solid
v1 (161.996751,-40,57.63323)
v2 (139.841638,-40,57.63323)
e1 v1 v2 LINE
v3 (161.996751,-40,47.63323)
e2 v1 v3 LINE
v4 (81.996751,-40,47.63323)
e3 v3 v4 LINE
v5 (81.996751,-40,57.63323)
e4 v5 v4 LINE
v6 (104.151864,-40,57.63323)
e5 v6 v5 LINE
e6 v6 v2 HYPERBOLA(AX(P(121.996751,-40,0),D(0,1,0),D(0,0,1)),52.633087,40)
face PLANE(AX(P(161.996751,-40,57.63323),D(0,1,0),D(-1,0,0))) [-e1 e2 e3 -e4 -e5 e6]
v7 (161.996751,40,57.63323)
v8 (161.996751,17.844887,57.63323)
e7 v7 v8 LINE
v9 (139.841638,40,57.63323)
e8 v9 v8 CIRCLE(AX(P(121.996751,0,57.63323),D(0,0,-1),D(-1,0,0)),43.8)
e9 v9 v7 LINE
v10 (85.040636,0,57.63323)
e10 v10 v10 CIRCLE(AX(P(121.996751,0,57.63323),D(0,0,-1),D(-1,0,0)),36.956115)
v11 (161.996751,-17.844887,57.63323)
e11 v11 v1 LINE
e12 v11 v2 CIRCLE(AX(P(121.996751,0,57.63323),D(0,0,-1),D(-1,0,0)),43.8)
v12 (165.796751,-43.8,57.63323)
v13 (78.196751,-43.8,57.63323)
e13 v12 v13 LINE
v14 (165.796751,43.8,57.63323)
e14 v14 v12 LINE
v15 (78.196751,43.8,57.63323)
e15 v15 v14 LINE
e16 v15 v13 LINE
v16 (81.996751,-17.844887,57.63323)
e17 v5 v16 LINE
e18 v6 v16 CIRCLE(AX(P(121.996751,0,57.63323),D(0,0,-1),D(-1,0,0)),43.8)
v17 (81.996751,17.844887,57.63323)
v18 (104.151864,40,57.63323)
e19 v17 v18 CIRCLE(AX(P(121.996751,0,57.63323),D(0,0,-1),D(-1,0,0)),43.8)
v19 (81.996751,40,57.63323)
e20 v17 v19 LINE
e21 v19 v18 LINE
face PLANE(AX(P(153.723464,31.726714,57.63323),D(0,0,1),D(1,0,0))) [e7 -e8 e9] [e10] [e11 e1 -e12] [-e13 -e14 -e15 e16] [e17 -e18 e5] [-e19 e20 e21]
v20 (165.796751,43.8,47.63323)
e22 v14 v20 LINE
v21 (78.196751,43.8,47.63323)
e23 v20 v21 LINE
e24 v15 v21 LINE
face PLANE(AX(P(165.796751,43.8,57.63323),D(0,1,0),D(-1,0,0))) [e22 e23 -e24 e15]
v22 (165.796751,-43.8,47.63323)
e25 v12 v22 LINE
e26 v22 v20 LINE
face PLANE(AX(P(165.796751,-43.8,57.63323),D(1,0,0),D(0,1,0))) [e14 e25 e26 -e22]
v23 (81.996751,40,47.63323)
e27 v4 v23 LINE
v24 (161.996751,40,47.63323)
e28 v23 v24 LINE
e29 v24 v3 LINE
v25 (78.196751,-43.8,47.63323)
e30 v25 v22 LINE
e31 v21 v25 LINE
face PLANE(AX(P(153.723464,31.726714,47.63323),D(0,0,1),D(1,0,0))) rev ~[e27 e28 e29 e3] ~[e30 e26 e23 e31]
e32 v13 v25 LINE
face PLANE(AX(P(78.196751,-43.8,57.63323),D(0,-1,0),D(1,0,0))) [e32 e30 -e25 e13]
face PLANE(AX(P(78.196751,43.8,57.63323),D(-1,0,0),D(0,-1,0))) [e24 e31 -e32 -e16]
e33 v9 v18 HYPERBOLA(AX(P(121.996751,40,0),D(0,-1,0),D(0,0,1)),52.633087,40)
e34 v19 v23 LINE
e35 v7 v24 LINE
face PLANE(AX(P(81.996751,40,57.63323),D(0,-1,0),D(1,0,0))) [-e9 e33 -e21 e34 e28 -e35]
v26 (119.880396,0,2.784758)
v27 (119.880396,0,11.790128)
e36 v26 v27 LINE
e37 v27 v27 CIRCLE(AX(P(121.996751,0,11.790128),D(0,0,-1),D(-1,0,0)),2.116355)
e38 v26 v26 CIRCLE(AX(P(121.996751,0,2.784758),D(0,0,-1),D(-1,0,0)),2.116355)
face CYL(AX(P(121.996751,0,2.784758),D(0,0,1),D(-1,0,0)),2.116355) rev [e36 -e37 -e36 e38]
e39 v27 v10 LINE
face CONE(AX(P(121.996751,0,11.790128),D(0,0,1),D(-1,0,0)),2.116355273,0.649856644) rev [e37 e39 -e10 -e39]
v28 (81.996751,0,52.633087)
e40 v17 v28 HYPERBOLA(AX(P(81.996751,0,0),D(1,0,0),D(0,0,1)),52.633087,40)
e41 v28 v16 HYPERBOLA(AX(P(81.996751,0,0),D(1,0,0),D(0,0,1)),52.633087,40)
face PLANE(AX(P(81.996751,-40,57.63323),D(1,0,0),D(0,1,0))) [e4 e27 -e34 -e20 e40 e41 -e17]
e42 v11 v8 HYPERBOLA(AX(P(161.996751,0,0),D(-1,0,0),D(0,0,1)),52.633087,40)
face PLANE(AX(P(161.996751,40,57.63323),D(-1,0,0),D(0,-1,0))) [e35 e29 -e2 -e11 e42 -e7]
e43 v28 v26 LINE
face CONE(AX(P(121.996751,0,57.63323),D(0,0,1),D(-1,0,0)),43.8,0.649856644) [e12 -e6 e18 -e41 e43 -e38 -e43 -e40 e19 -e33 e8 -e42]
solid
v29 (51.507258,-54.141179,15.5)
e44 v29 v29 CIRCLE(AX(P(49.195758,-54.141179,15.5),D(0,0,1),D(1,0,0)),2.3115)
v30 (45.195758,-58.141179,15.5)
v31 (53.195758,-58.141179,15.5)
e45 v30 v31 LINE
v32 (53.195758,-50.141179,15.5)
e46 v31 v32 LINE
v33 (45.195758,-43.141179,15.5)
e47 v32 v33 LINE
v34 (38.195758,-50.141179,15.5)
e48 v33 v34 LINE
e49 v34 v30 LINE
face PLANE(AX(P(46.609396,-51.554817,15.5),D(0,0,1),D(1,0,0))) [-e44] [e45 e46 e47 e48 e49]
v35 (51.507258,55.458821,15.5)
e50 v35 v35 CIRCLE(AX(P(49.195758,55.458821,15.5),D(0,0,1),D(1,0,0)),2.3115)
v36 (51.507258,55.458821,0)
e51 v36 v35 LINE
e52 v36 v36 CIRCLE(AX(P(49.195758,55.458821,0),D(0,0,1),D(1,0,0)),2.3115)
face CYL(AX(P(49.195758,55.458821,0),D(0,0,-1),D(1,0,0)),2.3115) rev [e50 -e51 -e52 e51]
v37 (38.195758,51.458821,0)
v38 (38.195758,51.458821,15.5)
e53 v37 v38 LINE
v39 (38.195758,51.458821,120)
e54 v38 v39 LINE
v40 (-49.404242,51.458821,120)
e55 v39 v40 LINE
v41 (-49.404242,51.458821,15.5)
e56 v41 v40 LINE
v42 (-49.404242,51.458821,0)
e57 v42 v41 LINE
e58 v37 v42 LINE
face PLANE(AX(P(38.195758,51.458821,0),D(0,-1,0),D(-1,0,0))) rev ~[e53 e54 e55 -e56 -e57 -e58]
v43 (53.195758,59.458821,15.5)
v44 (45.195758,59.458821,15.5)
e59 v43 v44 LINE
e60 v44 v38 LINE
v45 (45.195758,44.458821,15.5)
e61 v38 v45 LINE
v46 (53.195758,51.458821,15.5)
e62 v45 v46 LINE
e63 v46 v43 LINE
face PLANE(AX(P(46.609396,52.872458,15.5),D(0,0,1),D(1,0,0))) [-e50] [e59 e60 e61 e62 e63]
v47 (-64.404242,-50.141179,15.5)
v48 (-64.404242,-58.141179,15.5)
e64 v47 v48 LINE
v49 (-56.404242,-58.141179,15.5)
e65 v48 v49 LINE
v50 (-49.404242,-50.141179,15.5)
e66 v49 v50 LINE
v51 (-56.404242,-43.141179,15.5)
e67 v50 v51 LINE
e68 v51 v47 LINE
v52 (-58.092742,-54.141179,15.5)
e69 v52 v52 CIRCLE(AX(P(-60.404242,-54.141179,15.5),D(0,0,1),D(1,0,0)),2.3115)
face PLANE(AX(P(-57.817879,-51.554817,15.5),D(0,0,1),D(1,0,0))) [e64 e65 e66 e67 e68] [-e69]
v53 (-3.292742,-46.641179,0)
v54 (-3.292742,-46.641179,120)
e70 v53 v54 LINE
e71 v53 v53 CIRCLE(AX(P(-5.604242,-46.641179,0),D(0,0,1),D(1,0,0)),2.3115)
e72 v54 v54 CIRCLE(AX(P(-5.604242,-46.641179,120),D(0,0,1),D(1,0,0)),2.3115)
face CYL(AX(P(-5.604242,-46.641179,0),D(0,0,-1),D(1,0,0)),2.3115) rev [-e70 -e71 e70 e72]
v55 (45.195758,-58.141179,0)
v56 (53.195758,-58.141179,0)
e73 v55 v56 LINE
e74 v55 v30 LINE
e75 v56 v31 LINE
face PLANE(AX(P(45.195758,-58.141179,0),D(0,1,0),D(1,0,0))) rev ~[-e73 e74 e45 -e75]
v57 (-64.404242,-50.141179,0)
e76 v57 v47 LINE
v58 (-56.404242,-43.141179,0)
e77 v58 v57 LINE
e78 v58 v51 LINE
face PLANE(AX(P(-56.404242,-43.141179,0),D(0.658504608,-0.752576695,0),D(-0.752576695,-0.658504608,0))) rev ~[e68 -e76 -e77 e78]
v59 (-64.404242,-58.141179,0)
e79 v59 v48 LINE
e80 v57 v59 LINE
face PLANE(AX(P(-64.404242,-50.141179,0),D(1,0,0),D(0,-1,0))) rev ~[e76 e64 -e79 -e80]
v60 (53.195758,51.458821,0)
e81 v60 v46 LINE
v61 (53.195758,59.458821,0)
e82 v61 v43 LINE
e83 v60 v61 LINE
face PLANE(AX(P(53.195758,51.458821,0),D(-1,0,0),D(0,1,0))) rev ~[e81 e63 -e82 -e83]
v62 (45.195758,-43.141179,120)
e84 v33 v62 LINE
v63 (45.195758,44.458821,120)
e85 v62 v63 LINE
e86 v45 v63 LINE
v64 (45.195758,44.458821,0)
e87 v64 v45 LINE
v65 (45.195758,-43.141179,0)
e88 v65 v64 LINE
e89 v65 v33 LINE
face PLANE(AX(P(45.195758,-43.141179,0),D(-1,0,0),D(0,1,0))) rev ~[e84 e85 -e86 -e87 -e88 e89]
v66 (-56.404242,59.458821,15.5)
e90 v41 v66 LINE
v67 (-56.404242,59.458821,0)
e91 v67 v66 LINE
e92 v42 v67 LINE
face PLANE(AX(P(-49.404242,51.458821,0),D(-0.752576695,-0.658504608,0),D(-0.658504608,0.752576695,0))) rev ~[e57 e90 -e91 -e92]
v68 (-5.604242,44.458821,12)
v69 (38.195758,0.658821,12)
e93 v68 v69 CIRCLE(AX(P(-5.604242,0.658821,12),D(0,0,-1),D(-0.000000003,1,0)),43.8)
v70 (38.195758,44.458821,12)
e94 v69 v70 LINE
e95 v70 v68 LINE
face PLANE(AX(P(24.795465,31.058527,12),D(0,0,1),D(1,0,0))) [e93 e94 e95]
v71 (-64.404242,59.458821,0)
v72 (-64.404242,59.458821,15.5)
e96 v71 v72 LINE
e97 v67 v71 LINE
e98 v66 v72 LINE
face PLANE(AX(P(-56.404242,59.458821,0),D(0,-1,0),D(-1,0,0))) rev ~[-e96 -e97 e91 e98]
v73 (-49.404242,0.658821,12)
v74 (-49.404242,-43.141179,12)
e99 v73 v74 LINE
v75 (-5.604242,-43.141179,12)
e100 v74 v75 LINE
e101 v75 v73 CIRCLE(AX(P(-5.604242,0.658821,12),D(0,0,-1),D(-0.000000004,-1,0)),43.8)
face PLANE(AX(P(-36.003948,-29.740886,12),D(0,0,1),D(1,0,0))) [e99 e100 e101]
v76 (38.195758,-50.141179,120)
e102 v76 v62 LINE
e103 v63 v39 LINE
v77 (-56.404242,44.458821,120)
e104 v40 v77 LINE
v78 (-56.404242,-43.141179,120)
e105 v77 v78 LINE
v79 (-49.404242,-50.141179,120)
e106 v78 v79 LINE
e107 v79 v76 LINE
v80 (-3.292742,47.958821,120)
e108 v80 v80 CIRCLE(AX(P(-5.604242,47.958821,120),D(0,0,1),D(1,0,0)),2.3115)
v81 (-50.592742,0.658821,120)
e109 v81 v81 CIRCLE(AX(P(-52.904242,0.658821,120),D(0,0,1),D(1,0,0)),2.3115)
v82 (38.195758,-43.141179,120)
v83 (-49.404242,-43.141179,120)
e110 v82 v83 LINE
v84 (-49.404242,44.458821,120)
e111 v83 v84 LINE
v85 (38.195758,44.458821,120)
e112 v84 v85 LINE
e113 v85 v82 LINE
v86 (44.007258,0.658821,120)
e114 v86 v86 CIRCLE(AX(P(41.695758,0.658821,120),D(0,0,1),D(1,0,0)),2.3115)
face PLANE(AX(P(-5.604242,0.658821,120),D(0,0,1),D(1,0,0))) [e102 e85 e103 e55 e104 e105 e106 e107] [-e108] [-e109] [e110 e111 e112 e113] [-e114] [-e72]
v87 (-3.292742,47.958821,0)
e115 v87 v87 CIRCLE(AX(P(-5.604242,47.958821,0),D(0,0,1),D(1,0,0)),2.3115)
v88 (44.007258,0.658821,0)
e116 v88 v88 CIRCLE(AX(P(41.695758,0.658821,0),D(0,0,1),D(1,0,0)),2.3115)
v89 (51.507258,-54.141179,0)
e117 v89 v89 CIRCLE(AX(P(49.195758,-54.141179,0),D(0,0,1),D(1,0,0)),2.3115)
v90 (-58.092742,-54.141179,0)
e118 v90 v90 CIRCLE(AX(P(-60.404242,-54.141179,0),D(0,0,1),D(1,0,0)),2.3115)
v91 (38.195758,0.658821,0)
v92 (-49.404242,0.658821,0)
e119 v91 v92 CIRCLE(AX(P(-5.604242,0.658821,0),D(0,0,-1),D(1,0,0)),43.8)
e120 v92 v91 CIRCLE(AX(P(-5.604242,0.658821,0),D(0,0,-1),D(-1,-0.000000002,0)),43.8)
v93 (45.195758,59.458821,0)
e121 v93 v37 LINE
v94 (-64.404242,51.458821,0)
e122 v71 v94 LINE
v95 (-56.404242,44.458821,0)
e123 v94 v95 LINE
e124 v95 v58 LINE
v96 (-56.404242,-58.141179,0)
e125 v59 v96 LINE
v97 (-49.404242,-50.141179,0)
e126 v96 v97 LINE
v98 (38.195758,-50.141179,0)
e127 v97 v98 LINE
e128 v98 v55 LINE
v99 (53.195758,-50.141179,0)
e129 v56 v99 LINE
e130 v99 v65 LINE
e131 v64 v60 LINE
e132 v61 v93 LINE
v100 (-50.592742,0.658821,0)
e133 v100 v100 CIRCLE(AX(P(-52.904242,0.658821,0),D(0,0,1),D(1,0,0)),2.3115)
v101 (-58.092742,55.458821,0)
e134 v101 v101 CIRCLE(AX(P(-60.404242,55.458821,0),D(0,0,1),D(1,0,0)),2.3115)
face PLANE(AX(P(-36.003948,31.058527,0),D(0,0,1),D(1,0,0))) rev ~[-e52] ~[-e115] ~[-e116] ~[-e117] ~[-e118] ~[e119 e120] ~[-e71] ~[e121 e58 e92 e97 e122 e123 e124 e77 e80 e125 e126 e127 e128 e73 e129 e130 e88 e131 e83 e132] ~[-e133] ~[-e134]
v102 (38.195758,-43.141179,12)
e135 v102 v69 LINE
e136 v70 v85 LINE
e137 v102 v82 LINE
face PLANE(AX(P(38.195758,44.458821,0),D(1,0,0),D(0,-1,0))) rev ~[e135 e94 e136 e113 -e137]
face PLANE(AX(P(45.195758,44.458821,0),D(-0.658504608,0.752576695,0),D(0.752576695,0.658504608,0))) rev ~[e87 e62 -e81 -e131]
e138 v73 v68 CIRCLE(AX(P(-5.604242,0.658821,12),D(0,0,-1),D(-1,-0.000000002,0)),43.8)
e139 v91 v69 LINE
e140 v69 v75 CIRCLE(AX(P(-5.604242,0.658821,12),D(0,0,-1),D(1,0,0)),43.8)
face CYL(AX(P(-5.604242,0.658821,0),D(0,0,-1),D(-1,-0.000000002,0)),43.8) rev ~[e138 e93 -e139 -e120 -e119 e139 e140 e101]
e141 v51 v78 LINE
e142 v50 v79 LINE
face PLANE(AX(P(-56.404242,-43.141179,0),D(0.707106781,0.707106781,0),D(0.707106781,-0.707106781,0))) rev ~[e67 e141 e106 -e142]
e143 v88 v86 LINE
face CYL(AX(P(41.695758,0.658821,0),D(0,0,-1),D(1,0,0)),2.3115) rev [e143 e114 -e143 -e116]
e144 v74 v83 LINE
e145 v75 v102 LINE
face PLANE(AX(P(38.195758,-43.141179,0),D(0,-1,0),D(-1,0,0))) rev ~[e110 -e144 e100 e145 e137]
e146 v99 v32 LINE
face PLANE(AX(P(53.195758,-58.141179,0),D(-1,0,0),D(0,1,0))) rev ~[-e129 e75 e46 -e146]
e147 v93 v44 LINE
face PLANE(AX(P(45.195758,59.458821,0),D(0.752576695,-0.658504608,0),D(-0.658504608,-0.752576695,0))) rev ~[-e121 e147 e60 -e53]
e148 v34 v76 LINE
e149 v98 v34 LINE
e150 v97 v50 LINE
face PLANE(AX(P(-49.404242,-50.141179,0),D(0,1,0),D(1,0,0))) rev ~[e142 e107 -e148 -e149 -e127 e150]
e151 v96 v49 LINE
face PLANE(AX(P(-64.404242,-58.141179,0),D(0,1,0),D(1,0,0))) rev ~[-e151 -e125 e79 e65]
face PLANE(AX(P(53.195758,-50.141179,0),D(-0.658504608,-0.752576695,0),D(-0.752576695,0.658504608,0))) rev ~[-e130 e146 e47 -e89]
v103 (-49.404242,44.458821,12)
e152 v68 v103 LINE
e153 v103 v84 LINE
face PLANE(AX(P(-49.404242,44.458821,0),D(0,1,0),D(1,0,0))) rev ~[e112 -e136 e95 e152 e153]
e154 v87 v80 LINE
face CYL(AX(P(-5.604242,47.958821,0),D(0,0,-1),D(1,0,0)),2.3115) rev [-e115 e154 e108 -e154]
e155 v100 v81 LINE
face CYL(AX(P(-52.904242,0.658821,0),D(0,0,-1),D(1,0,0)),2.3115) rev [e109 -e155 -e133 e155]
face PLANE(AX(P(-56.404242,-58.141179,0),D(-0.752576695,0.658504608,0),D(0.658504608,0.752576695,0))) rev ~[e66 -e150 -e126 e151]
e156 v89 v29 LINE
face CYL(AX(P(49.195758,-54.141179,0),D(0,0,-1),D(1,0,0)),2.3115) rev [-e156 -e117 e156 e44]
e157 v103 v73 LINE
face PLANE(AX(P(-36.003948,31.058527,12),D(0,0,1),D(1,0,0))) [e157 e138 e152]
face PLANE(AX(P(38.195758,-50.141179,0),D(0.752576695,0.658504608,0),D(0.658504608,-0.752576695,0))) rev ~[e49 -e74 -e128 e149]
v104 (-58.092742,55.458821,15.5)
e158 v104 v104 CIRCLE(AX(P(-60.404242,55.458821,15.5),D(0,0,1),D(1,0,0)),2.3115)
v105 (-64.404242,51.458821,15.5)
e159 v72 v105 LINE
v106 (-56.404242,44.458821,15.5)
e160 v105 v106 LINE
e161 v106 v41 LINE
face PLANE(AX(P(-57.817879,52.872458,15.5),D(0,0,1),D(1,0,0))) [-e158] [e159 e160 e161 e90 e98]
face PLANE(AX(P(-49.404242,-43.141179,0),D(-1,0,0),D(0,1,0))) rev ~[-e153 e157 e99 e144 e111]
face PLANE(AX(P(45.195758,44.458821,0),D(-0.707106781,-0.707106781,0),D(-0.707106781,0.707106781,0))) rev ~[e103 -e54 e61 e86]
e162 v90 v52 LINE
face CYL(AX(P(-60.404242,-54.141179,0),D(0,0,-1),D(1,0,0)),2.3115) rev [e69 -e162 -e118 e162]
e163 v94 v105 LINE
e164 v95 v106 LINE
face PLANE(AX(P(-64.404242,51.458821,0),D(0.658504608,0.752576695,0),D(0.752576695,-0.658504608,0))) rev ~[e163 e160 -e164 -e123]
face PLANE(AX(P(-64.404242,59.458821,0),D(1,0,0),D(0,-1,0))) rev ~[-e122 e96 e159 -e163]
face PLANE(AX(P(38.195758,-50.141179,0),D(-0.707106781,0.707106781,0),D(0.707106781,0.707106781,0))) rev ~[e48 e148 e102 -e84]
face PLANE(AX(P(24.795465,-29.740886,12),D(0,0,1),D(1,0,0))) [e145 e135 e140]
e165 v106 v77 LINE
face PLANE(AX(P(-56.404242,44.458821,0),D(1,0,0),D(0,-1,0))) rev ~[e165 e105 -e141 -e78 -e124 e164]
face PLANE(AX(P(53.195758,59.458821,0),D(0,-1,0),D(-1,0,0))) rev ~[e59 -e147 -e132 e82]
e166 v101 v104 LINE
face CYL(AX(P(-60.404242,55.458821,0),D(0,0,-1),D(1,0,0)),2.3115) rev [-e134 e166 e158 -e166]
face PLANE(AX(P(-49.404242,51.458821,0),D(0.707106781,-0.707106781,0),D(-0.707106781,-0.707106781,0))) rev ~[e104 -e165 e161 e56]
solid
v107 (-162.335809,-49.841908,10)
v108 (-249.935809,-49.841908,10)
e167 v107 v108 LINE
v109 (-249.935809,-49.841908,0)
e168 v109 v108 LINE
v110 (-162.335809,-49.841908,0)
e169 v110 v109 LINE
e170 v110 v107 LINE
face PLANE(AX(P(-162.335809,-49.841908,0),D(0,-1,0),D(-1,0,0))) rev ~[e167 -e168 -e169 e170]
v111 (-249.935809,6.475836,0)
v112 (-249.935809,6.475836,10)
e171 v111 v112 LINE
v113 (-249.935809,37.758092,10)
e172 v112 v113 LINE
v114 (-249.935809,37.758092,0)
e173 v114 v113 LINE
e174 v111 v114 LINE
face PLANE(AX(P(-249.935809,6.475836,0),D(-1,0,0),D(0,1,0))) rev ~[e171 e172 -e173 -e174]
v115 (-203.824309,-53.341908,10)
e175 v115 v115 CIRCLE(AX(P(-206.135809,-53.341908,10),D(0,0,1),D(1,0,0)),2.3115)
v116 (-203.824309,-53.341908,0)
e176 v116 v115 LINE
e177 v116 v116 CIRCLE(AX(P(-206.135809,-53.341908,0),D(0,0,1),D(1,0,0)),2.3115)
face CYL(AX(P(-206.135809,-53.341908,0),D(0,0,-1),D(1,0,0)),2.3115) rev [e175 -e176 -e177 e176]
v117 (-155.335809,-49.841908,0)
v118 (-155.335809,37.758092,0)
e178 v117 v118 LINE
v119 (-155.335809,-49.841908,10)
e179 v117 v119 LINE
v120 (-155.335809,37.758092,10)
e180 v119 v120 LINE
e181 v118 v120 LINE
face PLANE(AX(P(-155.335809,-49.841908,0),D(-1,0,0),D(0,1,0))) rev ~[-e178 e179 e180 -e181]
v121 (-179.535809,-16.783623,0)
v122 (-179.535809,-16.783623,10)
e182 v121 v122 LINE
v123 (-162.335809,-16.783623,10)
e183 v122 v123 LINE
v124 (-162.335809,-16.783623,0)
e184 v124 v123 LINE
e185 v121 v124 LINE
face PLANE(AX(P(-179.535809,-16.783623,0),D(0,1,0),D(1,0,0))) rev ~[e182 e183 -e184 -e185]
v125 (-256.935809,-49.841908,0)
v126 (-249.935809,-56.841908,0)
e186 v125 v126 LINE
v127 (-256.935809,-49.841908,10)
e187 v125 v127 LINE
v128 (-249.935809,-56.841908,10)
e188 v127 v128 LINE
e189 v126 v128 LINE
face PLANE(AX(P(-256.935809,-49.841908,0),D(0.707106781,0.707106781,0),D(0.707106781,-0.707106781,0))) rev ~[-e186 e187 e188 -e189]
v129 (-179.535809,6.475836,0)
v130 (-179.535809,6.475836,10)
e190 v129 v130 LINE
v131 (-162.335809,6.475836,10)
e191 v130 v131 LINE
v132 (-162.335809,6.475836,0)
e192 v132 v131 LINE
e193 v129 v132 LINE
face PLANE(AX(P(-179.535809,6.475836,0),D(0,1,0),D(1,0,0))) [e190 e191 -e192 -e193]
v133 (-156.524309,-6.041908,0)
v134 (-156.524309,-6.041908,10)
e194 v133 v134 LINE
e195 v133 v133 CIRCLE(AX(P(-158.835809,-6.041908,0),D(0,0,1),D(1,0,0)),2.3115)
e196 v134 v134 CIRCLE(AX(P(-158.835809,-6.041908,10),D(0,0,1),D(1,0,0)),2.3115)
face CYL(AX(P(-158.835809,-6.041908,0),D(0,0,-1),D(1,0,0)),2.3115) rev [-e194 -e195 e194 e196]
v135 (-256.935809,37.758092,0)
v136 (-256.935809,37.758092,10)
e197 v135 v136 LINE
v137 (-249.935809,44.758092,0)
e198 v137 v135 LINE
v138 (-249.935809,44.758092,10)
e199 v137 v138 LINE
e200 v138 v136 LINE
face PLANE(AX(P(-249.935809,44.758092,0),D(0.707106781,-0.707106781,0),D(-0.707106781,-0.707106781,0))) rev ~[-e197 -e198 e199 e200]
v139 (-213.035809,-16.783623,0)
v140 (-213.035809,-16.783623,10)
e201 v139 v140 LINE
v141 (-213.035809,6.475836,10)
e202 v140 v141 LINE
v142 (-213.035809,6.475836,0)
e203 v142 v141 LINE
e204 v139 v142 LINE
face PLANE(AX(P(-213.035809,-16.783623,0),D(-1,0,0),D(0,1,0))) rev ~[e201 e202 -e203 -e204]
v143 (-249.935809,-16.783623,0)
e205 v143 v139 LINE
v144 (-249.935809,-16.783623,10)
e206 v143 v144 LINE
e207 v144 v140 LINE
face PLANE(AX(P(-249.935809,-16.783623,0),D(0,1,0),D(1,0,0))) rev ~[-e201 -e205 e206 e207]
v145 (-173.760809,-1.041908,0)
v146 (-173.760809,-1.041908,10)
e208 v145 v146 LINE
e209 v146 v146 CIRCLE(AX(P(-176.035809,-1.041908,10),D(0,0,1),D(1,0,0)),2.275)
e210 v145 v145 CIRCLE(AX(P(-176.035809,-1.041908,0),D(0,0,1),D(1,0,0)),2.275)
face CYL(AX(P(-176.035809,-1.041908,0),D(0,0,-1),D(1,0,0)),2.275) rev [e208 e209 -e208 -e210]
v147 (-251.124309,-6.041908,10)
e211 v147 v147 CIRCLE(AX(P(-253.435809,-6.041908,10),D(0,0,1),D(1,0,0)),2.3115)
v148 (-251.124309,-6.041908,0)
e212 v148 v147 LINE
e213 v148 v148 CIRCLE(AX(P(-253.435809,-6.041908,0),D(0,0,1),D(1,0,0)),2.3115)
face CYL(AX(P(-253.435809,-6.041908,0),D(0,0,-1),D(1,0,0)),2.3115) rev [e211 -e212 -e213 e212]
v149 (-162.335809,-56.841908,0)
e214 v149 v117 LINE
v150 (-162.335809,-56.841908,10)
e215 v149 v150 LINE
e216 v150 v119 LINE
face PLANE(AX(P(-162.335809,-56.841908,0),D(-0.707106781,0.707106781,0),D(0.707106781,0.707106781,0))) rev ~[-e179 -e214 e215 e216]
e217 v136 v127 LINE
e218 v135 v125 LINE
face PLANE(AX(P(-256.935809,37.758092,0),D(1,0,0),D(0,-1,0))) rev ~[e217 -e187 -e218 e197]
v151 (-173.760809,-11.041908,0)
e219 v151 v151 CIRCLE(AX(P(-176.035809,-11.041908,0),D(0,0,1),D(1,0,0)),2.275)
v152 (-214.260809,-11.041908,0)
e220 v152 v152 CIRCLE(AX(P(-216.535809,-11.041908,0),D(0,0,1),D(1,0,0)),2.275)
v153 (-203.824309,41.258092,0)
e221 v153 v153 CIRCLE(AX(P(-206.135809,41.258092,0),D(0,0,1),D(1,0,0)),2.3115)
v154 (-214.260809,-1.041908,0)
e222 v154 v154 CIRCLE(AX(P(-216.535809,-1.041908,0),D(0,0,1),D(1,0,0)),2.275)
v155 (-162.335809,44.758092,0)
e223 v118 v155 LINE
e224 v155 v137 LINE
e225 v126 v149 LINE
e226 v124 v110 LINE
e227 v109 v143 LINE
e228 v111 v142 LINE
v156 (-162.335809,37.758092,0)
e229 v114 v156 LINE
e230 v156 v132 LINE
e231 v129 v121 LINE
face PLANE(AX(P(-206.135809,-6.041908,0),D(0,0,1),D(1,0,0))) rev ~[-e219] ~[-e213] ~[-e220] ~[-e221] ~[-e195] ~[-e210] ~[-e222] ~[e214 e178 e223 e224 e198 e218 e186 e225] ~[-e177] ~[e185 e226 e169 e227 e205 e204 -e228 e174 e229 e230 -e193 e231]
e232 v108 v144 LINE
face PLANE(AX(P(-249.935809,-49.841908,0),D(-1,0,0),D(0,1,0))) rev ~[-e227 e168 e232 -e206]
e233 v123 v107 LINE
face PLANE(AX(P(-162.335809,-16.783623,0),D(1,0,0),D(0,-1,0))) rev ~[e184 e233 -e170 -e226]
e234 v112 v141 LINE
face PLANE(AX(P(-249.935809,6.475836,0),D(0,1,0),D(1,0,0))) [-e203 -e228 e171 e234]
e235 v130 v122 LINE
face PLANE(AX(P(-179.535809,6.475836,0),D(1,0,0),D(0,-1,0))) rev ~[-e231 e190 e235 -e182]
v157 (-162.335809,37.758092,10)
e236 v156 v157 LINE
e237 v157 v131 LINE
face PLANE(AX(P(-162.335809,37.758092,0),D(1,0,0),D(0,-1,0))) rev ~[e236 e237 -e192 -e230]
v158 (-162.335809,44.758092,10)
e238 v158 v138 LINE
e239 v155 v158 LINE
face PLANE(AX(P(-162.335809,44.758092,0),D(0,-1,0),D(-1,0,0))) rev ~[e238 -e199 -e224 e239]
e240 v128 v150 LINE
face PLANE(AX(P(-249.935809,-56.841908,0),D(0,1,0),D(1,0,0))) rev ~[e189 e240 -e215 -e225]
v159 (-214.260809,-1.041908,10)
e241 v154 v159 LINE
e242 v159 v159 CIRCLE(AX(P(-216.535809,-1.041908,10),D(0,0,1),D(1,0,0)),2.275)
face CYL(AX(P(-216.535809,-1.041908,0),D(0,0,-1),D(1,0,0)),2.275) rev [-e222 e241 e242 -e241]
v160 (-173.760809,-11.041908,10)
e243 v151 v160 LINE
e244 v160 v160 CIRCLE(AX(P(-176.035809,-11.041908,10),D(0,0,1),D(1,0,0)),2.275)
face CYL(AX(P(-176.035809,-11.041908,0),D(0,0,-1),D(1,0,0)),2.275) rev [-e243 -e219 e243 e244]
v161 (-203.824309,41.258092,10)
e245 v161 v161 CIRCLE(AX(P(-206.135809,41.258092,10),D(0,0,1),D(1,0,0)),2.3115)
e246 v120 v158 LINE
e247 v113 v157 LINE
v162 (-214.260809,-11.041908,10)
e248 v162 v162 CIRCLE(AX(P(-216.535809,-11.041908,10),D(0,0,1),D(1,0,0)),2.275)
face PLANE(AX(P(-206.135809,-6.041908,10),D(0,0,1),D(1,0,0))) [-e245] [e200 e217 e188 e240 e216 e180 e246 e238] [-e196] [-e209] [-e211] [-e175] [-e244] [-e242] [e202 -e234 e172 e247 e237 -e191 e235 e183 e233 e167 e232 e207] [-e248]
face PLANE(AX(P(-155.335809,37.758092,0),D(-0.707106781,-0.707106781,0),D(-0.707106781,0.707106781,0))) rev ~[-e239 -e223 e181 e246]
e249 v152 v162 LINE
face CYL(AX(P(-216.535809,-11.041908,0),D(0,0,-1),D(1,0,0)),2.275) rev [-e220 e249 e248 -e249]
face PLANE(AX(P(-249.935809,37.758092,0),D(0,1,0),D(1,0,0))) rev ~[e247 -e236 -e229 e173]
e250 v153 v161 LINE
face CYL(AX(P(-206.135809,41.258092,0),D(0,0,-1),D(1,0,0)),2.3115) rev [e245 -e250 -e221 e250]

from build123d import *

# Parameters (mm, degrees)
F0_R     = 2.3115
F1_DEPTH = 120
F2_DEPTH = 15.5
F3_DEPTH = 12
F7_DEPTH = 10
F0_W     = 36.9
F0_H     = 12.517743744
F0_R_2   = 2.275
F0_H_2   = 10.7417148538
F0_W_2   = 17.2
F8_DEPTH = 10


with BuildPart() as f1:
    # F0 (on Top) → F1 (new body)
    with BuildSketch(Plane.XY):
        Polygon((38.1957582593, 51.4588206172), (-49.4042417407, 51.4588206172), (-56.4042417407, 44.4588206172), (-56.4042417407, -43.1411793828), (-49.4042417407, -50.1411793828), (38.1957582593, -50.1411793828), (45.1957582593, -43.1411793828), (45.1957582593, 44.4588206172), align=None)
        with Locations((-5.6042417407, -46.6411793828)):
            Circle(F0_R, mode=Mode.SUBTRACT)
        with Locations((-52.9042417407, 0.6588206172)):
            Circle(F0_R, mode=Mode.SUBTRACT)
        Polygon((-49.4042417407, 0.6588205268), (-49.4042417407, 44.4588206172), (-5.6042418869, 44.4588206172), (38.1957582593, 44.4588206172), (38.1957582593, 0.6588206172), (38.1957582593, -43.1411793828), (-5.6042419214, -43.1411793828), (-49.4042417407, -43.1411793828), align=None, mode=Mode.SUBTRACT)
        with Locations((41.6957582593, 0.6588206172)):
            Circle(F0_R, mode=Mode.SUBTRACT)
        with Locations((-5.6042417407, 47.9588206172)):
            Circle(F0_R, mode=Mode.SUBTRACT)
    extrude(amount=F1_DEPTH)

    # F0 (on Top) → F2 (join)
    with BuildSketch(Plane.XY):
        Polygon((-49.4042417407, -50.1411793828), (-56.4042417407, -43.1411793828), (-64.4042417407, -50.1411793828), (-64.4042417407, -58.1411793828), (-56.4042417407, -58.1411793828), align=None)
        with Locations((-60.4042417407, -54.1411793828)):
            Circle(F0_R, mode=Mode.SUBTRACT)
        Polygon((53.1957582593, -50.1411793828), (45.1957582593, -43.1411793828), (38.1957582593, -50.1411793828), (45.1957582593, -58.1411793828), (53.1957582593, -58.1411793828), align=None)
        with Locations((49.1957582593, -54.1411793828)):
            Circle(F0_R, mode=Mode.SUBTRACT)
        Polygon((45.1957582593, 59.4588206172), (38.1957582593, 51.4588206172), (45.1957582593, 44.4588206172), (53.1957582593, 51.4588206172), (53.1957582593, 59.4588206172), align=None)
        with Locations((49.1957582593, 55.4588206172)):
            Circle(F0_R, mode=Mode.SUBTRACT)
        Polygon((-56.4042417407, 44.4588206172), (-49.4042417407, 51.4588206172), (-56.4042417407, 59.4588206172), (-64.4042417407, 59.4588206172), (-64.4042417407, 51.4588206172), align=None)
        with Locations((-60.4042417407, 55.4588206172)):
            Circle(F0_R, mode=Mode.SUBTRACT)
    extrude(amount=F2_DEPTH)

    # F0 (on Top) → F3 (join)
    with BuildSketch(Plane.XY):
        with BuildLine():
            Line((-5.6042418869, 44.4588206172), (-49.4042417407, 44.4588206172))
            Line((-49.4042417407, 44.4588206172), (-49.4042417407, 0.6588205268))
            ThreePointArc((-49.4042417407, 0.6588205268), (-36.5755188403, 31.6300975495), (-5.6042418869, 44.4588206172))
        make_face()
        with BuildLine():
            Line((38.1957582593, 44.4588206172), (-5.6042418869, 44.4588206172))
            ThreePointArc((-5.6042418869, 44.4588206172), (25.3670352236, 31.6300976849), (38.1957582593, 0.6588206172))
            Line((38.1957582593, 0.6588206172), (38.1957582593, 44.4588206172))
        make_face()
        with BuildLine():
            Line((38.1957582593, -43.1411793828), (38.1957582593, 0.6588206172))
            ThreePointArc((38.1957582593, 0.6588206172), (25.3670352114, -30.3124564627), (-5.6042419214, -43.1411793828))
            Line((-5.6042419214, -43.1411793828), (38.1957582593, -43.1411793828))
        make_face()
        with BuildLine():
            ThreePointArc((-5.6042419214, -43.1411793828), (-36.5755187886, -30.3124563668), (-49.4042417407, 0.6588205268))
            Line((-49.4042417407, 0.6588205268), (-49.4042417407, -43.1411793828))
            Line((-49.4042417407, -43.1411793828), (-5.6042419214, -43.1411793828))
        make_face()
    extrude(amount=F3_DEPTH)


with BuildPart() as f5:
    # F4 (on Front) → F5 (revolve)
    with BuildSketch(Plane.XZ):
        Polygon((85.0406363606, 57.6332304992), (78.1967509026, 57.6332304992), (119.88039563, 2.784757791), (119.88039563, 11.7901282959), align=None)
    revolve(axis=Axis((121.9967509026, 0, 28.8166152496), (0, 0, -1)))

    # F6 (on face) → F7 (join)
    with BuildSketch(Plane.XY.offset(57.6332304992)):
        with BuildLine():
            Line((165.7967509026, 0), (165.7967509026, 43.8))
            Line((165.7967509026, 43.8), (121.9967508123, 43.8))
            ThreePointArc((121.9967508123, 43.8), (131.1192505159, 42.8394677932), (139.8416381256, 40))
            Line((139.8416381256, 40), (161.9967509026, 40))
            Line((161.9967509026, 40), (161.9967509026, 17.844887223))
            ThreePointArc((161.9967509026, 17.844887223), (164.8362186864, 9.1224996574), (165.7967509026, 0))
        make_face()
        with BuildLine():
            ThreePointArc((104.1518636797, 40), (112.874251201, 42.8394677744), (121.9967508123, 43.8))
            Line((121.9967508123, 43.8), (78.1967509026, 43.8))
            Line((78.1967509026, 43.8), (78.1967509026, 0))
            ThreePointArc((78.1967509026, 0), (79.1572831188, 9.1224996574), (81.9967509026, 17.844887223))
            Line((81.9967509026, 17.844887223), (81.9967509026, 40))
            Line((81.9967509026, 40), (104.1518636797, 40))
        make_face()
        with BuildLine():
            ThreePointArc((81.9967509026, 17.844887223), (79.1572831188, 9.1224996574), (78.1967509026, 0))
            ThreePointArc((78.1967509026, 0), (79.1572831188, -9.1224996574), (81.9967509026, -17.844887223))
            Line((81.9967509026, -17.844887223), (81.9967509026, 17.844887223))
        make_face()
        with BuildLine():
            ThreePointArc((81.9967509026, -17.844887223), (79.1572831188, -9.1224996574), (78.1967509026, 0))
            Line((78.1967509026, 0), (78.1967509026, -43.8))
            Line((78.1967509026, -43.8), (121.996750993, -43.8))
            ThreePointArc((121.996750993, -43.8), (112.8742512894, -42.8394677932), (104.1518636797, -40))
            Line((104.1518636797, -40), (81.9967509026, -40))
            Line((81.9967509026, -40), (81.9967509026, -17.844887223))
        make_face()
        with BuildLine():
            Line((165.7967509026, -43.8), (165.7967509026, 0))
            ThreePointArc((165.7967509026, 0), (164.8362186864, -9.1224996574), (161.9967509026, -17.844887223))
            Line((161.9967509026, -17.844887223), (161.9967509026, -40))
            Line((161.9967509026, -40), (139.8416381256, -40))
            ThreePointArc((139.8416381256, -40), (131.1192506042, -42.8394677744), (121.996750993, -43.8))
            Line((121.996750993, -43.8), (165.7967509026, -43.8))
        make_face()
        with BuildLine():
            ThreePointArc((104.1518636797, -40), (112.8742512894, -42.8394677932), (121.996750993, -43.8))
            ThreePointArc((121.996750993, -43.8), (131.1192506042, -42.8394677744), (139.8416381256, -40))
            Line((139.8416381256, -40), (104.1518636797, -40))
        make_face()
        with BuildLine():
            ThreePointArc((139.8416381256, 40), (131.1192505159, 42.8394677932), (121.9967508123, 43.8))
            ThreePointArc((121.9967508123, 43.8), (112.874251201, 42.8394677744), (104.1518636797, 40))
            Line((104.1518636797, 40), (139.8416381256, 40))
        make_face()
        with BuildLine():
            ThreePointArc((161.9967509026, -17.844887223), (164.8362186864, -9.1224996574), (165.7967509026, 0))
            ThreePointArc((165.7967509026, 0), (164.8362186864, 9.1224996574), (161.9967509026, 17.844887223))
            Line((161.9967509026, 17.844887223), (161.9967509026, -17.844887223))
        make_face()
    extrude(amount=-F7_DEPTH)


with BuildPart() as f8:
    # F0 (on Top) → F8 (new body)
    with BuildSketch(Plane.XY):
        Polygon((-162.3358094215, 44.758091829), (-249.9358094215, 44.758091829), (-256.9358094215, 37.758091829), (-256.9358094215, -49.841908171), (-249.9358094215, -56.841908171), (-162.3358094215, -56.841908171), (-155.3358094215, -49.841908171), (-155.3358094215, 37.758091829), align=None)
        with Locations((-206.1358094215, -53.341908171)):
            Circle(F0_R, mode=Mode.SUBTRACT)
        with Locations((-253.4358094215, -6.041908171)):
            Circle(F0_R, mode=Mode.SUBTRACT)
        Polygon((-249.9358094215, 6.4758355729), (-249.9358094215, 37.758091829), (-162.3358094215, 37.758091829), (-162.3358094215, 6.4758355729), (-162.3358094215, -6.041908171), (-162.3358094215, -16.7836230248), (-162.3358094215, -49.841908171), (-249.9358094215, -49.841908171), (-249.9358094215, -16.7836230248), (-249.9358094215, -6.041908171), align=None, mode=Mode.SUBTRACT)
        with Locations((-158.8358094215, -6.041908171)):
            Circle(F0_R, mode=Mode.SUBTRACT)
        with Locations((-206.1358094215, 41.258091829)):
            Circle(F0_R, mode=Mode.SUBTRACT)
        with Locations((-231.4858094215, 0.216963701)):
            Rectangle(F0_W, F0_H)
        with Locations((-216.5358094215, -1.041908171)):
            Circle(F0_R_2, mode=Mode.SUBTRACT)
        with Locations((-231.4858094215, -11.4127655979)):
            Rectangle(F0_W, F0_H_2)
        with Locations((-216.5358094215, -11.041908171)):
            Circle(F0_R_2, mode=Mode.SUBTRACT)
        with Locations((-170.9358094215, 0.216963701)):
            Rectangle(F0_W_2, F0_H)
        with Locations((-176.0358094215, -1.041908171)):
            Circle(F0_R_2, mode=Mode.SUBTRACT)
        with Locations((-170.9358094215, -11.4127655979)):
            Rectangle(F0_W_2, F0_H_2)
        with Locations((-176.0358094215, -11.041908171)):
            Circle(F0_R_2, mode=Mode.SUBTRACT)
    extrude(amount=F8_DEPTH)


solid = Compound([f1.part, f5.part, f8.part])
